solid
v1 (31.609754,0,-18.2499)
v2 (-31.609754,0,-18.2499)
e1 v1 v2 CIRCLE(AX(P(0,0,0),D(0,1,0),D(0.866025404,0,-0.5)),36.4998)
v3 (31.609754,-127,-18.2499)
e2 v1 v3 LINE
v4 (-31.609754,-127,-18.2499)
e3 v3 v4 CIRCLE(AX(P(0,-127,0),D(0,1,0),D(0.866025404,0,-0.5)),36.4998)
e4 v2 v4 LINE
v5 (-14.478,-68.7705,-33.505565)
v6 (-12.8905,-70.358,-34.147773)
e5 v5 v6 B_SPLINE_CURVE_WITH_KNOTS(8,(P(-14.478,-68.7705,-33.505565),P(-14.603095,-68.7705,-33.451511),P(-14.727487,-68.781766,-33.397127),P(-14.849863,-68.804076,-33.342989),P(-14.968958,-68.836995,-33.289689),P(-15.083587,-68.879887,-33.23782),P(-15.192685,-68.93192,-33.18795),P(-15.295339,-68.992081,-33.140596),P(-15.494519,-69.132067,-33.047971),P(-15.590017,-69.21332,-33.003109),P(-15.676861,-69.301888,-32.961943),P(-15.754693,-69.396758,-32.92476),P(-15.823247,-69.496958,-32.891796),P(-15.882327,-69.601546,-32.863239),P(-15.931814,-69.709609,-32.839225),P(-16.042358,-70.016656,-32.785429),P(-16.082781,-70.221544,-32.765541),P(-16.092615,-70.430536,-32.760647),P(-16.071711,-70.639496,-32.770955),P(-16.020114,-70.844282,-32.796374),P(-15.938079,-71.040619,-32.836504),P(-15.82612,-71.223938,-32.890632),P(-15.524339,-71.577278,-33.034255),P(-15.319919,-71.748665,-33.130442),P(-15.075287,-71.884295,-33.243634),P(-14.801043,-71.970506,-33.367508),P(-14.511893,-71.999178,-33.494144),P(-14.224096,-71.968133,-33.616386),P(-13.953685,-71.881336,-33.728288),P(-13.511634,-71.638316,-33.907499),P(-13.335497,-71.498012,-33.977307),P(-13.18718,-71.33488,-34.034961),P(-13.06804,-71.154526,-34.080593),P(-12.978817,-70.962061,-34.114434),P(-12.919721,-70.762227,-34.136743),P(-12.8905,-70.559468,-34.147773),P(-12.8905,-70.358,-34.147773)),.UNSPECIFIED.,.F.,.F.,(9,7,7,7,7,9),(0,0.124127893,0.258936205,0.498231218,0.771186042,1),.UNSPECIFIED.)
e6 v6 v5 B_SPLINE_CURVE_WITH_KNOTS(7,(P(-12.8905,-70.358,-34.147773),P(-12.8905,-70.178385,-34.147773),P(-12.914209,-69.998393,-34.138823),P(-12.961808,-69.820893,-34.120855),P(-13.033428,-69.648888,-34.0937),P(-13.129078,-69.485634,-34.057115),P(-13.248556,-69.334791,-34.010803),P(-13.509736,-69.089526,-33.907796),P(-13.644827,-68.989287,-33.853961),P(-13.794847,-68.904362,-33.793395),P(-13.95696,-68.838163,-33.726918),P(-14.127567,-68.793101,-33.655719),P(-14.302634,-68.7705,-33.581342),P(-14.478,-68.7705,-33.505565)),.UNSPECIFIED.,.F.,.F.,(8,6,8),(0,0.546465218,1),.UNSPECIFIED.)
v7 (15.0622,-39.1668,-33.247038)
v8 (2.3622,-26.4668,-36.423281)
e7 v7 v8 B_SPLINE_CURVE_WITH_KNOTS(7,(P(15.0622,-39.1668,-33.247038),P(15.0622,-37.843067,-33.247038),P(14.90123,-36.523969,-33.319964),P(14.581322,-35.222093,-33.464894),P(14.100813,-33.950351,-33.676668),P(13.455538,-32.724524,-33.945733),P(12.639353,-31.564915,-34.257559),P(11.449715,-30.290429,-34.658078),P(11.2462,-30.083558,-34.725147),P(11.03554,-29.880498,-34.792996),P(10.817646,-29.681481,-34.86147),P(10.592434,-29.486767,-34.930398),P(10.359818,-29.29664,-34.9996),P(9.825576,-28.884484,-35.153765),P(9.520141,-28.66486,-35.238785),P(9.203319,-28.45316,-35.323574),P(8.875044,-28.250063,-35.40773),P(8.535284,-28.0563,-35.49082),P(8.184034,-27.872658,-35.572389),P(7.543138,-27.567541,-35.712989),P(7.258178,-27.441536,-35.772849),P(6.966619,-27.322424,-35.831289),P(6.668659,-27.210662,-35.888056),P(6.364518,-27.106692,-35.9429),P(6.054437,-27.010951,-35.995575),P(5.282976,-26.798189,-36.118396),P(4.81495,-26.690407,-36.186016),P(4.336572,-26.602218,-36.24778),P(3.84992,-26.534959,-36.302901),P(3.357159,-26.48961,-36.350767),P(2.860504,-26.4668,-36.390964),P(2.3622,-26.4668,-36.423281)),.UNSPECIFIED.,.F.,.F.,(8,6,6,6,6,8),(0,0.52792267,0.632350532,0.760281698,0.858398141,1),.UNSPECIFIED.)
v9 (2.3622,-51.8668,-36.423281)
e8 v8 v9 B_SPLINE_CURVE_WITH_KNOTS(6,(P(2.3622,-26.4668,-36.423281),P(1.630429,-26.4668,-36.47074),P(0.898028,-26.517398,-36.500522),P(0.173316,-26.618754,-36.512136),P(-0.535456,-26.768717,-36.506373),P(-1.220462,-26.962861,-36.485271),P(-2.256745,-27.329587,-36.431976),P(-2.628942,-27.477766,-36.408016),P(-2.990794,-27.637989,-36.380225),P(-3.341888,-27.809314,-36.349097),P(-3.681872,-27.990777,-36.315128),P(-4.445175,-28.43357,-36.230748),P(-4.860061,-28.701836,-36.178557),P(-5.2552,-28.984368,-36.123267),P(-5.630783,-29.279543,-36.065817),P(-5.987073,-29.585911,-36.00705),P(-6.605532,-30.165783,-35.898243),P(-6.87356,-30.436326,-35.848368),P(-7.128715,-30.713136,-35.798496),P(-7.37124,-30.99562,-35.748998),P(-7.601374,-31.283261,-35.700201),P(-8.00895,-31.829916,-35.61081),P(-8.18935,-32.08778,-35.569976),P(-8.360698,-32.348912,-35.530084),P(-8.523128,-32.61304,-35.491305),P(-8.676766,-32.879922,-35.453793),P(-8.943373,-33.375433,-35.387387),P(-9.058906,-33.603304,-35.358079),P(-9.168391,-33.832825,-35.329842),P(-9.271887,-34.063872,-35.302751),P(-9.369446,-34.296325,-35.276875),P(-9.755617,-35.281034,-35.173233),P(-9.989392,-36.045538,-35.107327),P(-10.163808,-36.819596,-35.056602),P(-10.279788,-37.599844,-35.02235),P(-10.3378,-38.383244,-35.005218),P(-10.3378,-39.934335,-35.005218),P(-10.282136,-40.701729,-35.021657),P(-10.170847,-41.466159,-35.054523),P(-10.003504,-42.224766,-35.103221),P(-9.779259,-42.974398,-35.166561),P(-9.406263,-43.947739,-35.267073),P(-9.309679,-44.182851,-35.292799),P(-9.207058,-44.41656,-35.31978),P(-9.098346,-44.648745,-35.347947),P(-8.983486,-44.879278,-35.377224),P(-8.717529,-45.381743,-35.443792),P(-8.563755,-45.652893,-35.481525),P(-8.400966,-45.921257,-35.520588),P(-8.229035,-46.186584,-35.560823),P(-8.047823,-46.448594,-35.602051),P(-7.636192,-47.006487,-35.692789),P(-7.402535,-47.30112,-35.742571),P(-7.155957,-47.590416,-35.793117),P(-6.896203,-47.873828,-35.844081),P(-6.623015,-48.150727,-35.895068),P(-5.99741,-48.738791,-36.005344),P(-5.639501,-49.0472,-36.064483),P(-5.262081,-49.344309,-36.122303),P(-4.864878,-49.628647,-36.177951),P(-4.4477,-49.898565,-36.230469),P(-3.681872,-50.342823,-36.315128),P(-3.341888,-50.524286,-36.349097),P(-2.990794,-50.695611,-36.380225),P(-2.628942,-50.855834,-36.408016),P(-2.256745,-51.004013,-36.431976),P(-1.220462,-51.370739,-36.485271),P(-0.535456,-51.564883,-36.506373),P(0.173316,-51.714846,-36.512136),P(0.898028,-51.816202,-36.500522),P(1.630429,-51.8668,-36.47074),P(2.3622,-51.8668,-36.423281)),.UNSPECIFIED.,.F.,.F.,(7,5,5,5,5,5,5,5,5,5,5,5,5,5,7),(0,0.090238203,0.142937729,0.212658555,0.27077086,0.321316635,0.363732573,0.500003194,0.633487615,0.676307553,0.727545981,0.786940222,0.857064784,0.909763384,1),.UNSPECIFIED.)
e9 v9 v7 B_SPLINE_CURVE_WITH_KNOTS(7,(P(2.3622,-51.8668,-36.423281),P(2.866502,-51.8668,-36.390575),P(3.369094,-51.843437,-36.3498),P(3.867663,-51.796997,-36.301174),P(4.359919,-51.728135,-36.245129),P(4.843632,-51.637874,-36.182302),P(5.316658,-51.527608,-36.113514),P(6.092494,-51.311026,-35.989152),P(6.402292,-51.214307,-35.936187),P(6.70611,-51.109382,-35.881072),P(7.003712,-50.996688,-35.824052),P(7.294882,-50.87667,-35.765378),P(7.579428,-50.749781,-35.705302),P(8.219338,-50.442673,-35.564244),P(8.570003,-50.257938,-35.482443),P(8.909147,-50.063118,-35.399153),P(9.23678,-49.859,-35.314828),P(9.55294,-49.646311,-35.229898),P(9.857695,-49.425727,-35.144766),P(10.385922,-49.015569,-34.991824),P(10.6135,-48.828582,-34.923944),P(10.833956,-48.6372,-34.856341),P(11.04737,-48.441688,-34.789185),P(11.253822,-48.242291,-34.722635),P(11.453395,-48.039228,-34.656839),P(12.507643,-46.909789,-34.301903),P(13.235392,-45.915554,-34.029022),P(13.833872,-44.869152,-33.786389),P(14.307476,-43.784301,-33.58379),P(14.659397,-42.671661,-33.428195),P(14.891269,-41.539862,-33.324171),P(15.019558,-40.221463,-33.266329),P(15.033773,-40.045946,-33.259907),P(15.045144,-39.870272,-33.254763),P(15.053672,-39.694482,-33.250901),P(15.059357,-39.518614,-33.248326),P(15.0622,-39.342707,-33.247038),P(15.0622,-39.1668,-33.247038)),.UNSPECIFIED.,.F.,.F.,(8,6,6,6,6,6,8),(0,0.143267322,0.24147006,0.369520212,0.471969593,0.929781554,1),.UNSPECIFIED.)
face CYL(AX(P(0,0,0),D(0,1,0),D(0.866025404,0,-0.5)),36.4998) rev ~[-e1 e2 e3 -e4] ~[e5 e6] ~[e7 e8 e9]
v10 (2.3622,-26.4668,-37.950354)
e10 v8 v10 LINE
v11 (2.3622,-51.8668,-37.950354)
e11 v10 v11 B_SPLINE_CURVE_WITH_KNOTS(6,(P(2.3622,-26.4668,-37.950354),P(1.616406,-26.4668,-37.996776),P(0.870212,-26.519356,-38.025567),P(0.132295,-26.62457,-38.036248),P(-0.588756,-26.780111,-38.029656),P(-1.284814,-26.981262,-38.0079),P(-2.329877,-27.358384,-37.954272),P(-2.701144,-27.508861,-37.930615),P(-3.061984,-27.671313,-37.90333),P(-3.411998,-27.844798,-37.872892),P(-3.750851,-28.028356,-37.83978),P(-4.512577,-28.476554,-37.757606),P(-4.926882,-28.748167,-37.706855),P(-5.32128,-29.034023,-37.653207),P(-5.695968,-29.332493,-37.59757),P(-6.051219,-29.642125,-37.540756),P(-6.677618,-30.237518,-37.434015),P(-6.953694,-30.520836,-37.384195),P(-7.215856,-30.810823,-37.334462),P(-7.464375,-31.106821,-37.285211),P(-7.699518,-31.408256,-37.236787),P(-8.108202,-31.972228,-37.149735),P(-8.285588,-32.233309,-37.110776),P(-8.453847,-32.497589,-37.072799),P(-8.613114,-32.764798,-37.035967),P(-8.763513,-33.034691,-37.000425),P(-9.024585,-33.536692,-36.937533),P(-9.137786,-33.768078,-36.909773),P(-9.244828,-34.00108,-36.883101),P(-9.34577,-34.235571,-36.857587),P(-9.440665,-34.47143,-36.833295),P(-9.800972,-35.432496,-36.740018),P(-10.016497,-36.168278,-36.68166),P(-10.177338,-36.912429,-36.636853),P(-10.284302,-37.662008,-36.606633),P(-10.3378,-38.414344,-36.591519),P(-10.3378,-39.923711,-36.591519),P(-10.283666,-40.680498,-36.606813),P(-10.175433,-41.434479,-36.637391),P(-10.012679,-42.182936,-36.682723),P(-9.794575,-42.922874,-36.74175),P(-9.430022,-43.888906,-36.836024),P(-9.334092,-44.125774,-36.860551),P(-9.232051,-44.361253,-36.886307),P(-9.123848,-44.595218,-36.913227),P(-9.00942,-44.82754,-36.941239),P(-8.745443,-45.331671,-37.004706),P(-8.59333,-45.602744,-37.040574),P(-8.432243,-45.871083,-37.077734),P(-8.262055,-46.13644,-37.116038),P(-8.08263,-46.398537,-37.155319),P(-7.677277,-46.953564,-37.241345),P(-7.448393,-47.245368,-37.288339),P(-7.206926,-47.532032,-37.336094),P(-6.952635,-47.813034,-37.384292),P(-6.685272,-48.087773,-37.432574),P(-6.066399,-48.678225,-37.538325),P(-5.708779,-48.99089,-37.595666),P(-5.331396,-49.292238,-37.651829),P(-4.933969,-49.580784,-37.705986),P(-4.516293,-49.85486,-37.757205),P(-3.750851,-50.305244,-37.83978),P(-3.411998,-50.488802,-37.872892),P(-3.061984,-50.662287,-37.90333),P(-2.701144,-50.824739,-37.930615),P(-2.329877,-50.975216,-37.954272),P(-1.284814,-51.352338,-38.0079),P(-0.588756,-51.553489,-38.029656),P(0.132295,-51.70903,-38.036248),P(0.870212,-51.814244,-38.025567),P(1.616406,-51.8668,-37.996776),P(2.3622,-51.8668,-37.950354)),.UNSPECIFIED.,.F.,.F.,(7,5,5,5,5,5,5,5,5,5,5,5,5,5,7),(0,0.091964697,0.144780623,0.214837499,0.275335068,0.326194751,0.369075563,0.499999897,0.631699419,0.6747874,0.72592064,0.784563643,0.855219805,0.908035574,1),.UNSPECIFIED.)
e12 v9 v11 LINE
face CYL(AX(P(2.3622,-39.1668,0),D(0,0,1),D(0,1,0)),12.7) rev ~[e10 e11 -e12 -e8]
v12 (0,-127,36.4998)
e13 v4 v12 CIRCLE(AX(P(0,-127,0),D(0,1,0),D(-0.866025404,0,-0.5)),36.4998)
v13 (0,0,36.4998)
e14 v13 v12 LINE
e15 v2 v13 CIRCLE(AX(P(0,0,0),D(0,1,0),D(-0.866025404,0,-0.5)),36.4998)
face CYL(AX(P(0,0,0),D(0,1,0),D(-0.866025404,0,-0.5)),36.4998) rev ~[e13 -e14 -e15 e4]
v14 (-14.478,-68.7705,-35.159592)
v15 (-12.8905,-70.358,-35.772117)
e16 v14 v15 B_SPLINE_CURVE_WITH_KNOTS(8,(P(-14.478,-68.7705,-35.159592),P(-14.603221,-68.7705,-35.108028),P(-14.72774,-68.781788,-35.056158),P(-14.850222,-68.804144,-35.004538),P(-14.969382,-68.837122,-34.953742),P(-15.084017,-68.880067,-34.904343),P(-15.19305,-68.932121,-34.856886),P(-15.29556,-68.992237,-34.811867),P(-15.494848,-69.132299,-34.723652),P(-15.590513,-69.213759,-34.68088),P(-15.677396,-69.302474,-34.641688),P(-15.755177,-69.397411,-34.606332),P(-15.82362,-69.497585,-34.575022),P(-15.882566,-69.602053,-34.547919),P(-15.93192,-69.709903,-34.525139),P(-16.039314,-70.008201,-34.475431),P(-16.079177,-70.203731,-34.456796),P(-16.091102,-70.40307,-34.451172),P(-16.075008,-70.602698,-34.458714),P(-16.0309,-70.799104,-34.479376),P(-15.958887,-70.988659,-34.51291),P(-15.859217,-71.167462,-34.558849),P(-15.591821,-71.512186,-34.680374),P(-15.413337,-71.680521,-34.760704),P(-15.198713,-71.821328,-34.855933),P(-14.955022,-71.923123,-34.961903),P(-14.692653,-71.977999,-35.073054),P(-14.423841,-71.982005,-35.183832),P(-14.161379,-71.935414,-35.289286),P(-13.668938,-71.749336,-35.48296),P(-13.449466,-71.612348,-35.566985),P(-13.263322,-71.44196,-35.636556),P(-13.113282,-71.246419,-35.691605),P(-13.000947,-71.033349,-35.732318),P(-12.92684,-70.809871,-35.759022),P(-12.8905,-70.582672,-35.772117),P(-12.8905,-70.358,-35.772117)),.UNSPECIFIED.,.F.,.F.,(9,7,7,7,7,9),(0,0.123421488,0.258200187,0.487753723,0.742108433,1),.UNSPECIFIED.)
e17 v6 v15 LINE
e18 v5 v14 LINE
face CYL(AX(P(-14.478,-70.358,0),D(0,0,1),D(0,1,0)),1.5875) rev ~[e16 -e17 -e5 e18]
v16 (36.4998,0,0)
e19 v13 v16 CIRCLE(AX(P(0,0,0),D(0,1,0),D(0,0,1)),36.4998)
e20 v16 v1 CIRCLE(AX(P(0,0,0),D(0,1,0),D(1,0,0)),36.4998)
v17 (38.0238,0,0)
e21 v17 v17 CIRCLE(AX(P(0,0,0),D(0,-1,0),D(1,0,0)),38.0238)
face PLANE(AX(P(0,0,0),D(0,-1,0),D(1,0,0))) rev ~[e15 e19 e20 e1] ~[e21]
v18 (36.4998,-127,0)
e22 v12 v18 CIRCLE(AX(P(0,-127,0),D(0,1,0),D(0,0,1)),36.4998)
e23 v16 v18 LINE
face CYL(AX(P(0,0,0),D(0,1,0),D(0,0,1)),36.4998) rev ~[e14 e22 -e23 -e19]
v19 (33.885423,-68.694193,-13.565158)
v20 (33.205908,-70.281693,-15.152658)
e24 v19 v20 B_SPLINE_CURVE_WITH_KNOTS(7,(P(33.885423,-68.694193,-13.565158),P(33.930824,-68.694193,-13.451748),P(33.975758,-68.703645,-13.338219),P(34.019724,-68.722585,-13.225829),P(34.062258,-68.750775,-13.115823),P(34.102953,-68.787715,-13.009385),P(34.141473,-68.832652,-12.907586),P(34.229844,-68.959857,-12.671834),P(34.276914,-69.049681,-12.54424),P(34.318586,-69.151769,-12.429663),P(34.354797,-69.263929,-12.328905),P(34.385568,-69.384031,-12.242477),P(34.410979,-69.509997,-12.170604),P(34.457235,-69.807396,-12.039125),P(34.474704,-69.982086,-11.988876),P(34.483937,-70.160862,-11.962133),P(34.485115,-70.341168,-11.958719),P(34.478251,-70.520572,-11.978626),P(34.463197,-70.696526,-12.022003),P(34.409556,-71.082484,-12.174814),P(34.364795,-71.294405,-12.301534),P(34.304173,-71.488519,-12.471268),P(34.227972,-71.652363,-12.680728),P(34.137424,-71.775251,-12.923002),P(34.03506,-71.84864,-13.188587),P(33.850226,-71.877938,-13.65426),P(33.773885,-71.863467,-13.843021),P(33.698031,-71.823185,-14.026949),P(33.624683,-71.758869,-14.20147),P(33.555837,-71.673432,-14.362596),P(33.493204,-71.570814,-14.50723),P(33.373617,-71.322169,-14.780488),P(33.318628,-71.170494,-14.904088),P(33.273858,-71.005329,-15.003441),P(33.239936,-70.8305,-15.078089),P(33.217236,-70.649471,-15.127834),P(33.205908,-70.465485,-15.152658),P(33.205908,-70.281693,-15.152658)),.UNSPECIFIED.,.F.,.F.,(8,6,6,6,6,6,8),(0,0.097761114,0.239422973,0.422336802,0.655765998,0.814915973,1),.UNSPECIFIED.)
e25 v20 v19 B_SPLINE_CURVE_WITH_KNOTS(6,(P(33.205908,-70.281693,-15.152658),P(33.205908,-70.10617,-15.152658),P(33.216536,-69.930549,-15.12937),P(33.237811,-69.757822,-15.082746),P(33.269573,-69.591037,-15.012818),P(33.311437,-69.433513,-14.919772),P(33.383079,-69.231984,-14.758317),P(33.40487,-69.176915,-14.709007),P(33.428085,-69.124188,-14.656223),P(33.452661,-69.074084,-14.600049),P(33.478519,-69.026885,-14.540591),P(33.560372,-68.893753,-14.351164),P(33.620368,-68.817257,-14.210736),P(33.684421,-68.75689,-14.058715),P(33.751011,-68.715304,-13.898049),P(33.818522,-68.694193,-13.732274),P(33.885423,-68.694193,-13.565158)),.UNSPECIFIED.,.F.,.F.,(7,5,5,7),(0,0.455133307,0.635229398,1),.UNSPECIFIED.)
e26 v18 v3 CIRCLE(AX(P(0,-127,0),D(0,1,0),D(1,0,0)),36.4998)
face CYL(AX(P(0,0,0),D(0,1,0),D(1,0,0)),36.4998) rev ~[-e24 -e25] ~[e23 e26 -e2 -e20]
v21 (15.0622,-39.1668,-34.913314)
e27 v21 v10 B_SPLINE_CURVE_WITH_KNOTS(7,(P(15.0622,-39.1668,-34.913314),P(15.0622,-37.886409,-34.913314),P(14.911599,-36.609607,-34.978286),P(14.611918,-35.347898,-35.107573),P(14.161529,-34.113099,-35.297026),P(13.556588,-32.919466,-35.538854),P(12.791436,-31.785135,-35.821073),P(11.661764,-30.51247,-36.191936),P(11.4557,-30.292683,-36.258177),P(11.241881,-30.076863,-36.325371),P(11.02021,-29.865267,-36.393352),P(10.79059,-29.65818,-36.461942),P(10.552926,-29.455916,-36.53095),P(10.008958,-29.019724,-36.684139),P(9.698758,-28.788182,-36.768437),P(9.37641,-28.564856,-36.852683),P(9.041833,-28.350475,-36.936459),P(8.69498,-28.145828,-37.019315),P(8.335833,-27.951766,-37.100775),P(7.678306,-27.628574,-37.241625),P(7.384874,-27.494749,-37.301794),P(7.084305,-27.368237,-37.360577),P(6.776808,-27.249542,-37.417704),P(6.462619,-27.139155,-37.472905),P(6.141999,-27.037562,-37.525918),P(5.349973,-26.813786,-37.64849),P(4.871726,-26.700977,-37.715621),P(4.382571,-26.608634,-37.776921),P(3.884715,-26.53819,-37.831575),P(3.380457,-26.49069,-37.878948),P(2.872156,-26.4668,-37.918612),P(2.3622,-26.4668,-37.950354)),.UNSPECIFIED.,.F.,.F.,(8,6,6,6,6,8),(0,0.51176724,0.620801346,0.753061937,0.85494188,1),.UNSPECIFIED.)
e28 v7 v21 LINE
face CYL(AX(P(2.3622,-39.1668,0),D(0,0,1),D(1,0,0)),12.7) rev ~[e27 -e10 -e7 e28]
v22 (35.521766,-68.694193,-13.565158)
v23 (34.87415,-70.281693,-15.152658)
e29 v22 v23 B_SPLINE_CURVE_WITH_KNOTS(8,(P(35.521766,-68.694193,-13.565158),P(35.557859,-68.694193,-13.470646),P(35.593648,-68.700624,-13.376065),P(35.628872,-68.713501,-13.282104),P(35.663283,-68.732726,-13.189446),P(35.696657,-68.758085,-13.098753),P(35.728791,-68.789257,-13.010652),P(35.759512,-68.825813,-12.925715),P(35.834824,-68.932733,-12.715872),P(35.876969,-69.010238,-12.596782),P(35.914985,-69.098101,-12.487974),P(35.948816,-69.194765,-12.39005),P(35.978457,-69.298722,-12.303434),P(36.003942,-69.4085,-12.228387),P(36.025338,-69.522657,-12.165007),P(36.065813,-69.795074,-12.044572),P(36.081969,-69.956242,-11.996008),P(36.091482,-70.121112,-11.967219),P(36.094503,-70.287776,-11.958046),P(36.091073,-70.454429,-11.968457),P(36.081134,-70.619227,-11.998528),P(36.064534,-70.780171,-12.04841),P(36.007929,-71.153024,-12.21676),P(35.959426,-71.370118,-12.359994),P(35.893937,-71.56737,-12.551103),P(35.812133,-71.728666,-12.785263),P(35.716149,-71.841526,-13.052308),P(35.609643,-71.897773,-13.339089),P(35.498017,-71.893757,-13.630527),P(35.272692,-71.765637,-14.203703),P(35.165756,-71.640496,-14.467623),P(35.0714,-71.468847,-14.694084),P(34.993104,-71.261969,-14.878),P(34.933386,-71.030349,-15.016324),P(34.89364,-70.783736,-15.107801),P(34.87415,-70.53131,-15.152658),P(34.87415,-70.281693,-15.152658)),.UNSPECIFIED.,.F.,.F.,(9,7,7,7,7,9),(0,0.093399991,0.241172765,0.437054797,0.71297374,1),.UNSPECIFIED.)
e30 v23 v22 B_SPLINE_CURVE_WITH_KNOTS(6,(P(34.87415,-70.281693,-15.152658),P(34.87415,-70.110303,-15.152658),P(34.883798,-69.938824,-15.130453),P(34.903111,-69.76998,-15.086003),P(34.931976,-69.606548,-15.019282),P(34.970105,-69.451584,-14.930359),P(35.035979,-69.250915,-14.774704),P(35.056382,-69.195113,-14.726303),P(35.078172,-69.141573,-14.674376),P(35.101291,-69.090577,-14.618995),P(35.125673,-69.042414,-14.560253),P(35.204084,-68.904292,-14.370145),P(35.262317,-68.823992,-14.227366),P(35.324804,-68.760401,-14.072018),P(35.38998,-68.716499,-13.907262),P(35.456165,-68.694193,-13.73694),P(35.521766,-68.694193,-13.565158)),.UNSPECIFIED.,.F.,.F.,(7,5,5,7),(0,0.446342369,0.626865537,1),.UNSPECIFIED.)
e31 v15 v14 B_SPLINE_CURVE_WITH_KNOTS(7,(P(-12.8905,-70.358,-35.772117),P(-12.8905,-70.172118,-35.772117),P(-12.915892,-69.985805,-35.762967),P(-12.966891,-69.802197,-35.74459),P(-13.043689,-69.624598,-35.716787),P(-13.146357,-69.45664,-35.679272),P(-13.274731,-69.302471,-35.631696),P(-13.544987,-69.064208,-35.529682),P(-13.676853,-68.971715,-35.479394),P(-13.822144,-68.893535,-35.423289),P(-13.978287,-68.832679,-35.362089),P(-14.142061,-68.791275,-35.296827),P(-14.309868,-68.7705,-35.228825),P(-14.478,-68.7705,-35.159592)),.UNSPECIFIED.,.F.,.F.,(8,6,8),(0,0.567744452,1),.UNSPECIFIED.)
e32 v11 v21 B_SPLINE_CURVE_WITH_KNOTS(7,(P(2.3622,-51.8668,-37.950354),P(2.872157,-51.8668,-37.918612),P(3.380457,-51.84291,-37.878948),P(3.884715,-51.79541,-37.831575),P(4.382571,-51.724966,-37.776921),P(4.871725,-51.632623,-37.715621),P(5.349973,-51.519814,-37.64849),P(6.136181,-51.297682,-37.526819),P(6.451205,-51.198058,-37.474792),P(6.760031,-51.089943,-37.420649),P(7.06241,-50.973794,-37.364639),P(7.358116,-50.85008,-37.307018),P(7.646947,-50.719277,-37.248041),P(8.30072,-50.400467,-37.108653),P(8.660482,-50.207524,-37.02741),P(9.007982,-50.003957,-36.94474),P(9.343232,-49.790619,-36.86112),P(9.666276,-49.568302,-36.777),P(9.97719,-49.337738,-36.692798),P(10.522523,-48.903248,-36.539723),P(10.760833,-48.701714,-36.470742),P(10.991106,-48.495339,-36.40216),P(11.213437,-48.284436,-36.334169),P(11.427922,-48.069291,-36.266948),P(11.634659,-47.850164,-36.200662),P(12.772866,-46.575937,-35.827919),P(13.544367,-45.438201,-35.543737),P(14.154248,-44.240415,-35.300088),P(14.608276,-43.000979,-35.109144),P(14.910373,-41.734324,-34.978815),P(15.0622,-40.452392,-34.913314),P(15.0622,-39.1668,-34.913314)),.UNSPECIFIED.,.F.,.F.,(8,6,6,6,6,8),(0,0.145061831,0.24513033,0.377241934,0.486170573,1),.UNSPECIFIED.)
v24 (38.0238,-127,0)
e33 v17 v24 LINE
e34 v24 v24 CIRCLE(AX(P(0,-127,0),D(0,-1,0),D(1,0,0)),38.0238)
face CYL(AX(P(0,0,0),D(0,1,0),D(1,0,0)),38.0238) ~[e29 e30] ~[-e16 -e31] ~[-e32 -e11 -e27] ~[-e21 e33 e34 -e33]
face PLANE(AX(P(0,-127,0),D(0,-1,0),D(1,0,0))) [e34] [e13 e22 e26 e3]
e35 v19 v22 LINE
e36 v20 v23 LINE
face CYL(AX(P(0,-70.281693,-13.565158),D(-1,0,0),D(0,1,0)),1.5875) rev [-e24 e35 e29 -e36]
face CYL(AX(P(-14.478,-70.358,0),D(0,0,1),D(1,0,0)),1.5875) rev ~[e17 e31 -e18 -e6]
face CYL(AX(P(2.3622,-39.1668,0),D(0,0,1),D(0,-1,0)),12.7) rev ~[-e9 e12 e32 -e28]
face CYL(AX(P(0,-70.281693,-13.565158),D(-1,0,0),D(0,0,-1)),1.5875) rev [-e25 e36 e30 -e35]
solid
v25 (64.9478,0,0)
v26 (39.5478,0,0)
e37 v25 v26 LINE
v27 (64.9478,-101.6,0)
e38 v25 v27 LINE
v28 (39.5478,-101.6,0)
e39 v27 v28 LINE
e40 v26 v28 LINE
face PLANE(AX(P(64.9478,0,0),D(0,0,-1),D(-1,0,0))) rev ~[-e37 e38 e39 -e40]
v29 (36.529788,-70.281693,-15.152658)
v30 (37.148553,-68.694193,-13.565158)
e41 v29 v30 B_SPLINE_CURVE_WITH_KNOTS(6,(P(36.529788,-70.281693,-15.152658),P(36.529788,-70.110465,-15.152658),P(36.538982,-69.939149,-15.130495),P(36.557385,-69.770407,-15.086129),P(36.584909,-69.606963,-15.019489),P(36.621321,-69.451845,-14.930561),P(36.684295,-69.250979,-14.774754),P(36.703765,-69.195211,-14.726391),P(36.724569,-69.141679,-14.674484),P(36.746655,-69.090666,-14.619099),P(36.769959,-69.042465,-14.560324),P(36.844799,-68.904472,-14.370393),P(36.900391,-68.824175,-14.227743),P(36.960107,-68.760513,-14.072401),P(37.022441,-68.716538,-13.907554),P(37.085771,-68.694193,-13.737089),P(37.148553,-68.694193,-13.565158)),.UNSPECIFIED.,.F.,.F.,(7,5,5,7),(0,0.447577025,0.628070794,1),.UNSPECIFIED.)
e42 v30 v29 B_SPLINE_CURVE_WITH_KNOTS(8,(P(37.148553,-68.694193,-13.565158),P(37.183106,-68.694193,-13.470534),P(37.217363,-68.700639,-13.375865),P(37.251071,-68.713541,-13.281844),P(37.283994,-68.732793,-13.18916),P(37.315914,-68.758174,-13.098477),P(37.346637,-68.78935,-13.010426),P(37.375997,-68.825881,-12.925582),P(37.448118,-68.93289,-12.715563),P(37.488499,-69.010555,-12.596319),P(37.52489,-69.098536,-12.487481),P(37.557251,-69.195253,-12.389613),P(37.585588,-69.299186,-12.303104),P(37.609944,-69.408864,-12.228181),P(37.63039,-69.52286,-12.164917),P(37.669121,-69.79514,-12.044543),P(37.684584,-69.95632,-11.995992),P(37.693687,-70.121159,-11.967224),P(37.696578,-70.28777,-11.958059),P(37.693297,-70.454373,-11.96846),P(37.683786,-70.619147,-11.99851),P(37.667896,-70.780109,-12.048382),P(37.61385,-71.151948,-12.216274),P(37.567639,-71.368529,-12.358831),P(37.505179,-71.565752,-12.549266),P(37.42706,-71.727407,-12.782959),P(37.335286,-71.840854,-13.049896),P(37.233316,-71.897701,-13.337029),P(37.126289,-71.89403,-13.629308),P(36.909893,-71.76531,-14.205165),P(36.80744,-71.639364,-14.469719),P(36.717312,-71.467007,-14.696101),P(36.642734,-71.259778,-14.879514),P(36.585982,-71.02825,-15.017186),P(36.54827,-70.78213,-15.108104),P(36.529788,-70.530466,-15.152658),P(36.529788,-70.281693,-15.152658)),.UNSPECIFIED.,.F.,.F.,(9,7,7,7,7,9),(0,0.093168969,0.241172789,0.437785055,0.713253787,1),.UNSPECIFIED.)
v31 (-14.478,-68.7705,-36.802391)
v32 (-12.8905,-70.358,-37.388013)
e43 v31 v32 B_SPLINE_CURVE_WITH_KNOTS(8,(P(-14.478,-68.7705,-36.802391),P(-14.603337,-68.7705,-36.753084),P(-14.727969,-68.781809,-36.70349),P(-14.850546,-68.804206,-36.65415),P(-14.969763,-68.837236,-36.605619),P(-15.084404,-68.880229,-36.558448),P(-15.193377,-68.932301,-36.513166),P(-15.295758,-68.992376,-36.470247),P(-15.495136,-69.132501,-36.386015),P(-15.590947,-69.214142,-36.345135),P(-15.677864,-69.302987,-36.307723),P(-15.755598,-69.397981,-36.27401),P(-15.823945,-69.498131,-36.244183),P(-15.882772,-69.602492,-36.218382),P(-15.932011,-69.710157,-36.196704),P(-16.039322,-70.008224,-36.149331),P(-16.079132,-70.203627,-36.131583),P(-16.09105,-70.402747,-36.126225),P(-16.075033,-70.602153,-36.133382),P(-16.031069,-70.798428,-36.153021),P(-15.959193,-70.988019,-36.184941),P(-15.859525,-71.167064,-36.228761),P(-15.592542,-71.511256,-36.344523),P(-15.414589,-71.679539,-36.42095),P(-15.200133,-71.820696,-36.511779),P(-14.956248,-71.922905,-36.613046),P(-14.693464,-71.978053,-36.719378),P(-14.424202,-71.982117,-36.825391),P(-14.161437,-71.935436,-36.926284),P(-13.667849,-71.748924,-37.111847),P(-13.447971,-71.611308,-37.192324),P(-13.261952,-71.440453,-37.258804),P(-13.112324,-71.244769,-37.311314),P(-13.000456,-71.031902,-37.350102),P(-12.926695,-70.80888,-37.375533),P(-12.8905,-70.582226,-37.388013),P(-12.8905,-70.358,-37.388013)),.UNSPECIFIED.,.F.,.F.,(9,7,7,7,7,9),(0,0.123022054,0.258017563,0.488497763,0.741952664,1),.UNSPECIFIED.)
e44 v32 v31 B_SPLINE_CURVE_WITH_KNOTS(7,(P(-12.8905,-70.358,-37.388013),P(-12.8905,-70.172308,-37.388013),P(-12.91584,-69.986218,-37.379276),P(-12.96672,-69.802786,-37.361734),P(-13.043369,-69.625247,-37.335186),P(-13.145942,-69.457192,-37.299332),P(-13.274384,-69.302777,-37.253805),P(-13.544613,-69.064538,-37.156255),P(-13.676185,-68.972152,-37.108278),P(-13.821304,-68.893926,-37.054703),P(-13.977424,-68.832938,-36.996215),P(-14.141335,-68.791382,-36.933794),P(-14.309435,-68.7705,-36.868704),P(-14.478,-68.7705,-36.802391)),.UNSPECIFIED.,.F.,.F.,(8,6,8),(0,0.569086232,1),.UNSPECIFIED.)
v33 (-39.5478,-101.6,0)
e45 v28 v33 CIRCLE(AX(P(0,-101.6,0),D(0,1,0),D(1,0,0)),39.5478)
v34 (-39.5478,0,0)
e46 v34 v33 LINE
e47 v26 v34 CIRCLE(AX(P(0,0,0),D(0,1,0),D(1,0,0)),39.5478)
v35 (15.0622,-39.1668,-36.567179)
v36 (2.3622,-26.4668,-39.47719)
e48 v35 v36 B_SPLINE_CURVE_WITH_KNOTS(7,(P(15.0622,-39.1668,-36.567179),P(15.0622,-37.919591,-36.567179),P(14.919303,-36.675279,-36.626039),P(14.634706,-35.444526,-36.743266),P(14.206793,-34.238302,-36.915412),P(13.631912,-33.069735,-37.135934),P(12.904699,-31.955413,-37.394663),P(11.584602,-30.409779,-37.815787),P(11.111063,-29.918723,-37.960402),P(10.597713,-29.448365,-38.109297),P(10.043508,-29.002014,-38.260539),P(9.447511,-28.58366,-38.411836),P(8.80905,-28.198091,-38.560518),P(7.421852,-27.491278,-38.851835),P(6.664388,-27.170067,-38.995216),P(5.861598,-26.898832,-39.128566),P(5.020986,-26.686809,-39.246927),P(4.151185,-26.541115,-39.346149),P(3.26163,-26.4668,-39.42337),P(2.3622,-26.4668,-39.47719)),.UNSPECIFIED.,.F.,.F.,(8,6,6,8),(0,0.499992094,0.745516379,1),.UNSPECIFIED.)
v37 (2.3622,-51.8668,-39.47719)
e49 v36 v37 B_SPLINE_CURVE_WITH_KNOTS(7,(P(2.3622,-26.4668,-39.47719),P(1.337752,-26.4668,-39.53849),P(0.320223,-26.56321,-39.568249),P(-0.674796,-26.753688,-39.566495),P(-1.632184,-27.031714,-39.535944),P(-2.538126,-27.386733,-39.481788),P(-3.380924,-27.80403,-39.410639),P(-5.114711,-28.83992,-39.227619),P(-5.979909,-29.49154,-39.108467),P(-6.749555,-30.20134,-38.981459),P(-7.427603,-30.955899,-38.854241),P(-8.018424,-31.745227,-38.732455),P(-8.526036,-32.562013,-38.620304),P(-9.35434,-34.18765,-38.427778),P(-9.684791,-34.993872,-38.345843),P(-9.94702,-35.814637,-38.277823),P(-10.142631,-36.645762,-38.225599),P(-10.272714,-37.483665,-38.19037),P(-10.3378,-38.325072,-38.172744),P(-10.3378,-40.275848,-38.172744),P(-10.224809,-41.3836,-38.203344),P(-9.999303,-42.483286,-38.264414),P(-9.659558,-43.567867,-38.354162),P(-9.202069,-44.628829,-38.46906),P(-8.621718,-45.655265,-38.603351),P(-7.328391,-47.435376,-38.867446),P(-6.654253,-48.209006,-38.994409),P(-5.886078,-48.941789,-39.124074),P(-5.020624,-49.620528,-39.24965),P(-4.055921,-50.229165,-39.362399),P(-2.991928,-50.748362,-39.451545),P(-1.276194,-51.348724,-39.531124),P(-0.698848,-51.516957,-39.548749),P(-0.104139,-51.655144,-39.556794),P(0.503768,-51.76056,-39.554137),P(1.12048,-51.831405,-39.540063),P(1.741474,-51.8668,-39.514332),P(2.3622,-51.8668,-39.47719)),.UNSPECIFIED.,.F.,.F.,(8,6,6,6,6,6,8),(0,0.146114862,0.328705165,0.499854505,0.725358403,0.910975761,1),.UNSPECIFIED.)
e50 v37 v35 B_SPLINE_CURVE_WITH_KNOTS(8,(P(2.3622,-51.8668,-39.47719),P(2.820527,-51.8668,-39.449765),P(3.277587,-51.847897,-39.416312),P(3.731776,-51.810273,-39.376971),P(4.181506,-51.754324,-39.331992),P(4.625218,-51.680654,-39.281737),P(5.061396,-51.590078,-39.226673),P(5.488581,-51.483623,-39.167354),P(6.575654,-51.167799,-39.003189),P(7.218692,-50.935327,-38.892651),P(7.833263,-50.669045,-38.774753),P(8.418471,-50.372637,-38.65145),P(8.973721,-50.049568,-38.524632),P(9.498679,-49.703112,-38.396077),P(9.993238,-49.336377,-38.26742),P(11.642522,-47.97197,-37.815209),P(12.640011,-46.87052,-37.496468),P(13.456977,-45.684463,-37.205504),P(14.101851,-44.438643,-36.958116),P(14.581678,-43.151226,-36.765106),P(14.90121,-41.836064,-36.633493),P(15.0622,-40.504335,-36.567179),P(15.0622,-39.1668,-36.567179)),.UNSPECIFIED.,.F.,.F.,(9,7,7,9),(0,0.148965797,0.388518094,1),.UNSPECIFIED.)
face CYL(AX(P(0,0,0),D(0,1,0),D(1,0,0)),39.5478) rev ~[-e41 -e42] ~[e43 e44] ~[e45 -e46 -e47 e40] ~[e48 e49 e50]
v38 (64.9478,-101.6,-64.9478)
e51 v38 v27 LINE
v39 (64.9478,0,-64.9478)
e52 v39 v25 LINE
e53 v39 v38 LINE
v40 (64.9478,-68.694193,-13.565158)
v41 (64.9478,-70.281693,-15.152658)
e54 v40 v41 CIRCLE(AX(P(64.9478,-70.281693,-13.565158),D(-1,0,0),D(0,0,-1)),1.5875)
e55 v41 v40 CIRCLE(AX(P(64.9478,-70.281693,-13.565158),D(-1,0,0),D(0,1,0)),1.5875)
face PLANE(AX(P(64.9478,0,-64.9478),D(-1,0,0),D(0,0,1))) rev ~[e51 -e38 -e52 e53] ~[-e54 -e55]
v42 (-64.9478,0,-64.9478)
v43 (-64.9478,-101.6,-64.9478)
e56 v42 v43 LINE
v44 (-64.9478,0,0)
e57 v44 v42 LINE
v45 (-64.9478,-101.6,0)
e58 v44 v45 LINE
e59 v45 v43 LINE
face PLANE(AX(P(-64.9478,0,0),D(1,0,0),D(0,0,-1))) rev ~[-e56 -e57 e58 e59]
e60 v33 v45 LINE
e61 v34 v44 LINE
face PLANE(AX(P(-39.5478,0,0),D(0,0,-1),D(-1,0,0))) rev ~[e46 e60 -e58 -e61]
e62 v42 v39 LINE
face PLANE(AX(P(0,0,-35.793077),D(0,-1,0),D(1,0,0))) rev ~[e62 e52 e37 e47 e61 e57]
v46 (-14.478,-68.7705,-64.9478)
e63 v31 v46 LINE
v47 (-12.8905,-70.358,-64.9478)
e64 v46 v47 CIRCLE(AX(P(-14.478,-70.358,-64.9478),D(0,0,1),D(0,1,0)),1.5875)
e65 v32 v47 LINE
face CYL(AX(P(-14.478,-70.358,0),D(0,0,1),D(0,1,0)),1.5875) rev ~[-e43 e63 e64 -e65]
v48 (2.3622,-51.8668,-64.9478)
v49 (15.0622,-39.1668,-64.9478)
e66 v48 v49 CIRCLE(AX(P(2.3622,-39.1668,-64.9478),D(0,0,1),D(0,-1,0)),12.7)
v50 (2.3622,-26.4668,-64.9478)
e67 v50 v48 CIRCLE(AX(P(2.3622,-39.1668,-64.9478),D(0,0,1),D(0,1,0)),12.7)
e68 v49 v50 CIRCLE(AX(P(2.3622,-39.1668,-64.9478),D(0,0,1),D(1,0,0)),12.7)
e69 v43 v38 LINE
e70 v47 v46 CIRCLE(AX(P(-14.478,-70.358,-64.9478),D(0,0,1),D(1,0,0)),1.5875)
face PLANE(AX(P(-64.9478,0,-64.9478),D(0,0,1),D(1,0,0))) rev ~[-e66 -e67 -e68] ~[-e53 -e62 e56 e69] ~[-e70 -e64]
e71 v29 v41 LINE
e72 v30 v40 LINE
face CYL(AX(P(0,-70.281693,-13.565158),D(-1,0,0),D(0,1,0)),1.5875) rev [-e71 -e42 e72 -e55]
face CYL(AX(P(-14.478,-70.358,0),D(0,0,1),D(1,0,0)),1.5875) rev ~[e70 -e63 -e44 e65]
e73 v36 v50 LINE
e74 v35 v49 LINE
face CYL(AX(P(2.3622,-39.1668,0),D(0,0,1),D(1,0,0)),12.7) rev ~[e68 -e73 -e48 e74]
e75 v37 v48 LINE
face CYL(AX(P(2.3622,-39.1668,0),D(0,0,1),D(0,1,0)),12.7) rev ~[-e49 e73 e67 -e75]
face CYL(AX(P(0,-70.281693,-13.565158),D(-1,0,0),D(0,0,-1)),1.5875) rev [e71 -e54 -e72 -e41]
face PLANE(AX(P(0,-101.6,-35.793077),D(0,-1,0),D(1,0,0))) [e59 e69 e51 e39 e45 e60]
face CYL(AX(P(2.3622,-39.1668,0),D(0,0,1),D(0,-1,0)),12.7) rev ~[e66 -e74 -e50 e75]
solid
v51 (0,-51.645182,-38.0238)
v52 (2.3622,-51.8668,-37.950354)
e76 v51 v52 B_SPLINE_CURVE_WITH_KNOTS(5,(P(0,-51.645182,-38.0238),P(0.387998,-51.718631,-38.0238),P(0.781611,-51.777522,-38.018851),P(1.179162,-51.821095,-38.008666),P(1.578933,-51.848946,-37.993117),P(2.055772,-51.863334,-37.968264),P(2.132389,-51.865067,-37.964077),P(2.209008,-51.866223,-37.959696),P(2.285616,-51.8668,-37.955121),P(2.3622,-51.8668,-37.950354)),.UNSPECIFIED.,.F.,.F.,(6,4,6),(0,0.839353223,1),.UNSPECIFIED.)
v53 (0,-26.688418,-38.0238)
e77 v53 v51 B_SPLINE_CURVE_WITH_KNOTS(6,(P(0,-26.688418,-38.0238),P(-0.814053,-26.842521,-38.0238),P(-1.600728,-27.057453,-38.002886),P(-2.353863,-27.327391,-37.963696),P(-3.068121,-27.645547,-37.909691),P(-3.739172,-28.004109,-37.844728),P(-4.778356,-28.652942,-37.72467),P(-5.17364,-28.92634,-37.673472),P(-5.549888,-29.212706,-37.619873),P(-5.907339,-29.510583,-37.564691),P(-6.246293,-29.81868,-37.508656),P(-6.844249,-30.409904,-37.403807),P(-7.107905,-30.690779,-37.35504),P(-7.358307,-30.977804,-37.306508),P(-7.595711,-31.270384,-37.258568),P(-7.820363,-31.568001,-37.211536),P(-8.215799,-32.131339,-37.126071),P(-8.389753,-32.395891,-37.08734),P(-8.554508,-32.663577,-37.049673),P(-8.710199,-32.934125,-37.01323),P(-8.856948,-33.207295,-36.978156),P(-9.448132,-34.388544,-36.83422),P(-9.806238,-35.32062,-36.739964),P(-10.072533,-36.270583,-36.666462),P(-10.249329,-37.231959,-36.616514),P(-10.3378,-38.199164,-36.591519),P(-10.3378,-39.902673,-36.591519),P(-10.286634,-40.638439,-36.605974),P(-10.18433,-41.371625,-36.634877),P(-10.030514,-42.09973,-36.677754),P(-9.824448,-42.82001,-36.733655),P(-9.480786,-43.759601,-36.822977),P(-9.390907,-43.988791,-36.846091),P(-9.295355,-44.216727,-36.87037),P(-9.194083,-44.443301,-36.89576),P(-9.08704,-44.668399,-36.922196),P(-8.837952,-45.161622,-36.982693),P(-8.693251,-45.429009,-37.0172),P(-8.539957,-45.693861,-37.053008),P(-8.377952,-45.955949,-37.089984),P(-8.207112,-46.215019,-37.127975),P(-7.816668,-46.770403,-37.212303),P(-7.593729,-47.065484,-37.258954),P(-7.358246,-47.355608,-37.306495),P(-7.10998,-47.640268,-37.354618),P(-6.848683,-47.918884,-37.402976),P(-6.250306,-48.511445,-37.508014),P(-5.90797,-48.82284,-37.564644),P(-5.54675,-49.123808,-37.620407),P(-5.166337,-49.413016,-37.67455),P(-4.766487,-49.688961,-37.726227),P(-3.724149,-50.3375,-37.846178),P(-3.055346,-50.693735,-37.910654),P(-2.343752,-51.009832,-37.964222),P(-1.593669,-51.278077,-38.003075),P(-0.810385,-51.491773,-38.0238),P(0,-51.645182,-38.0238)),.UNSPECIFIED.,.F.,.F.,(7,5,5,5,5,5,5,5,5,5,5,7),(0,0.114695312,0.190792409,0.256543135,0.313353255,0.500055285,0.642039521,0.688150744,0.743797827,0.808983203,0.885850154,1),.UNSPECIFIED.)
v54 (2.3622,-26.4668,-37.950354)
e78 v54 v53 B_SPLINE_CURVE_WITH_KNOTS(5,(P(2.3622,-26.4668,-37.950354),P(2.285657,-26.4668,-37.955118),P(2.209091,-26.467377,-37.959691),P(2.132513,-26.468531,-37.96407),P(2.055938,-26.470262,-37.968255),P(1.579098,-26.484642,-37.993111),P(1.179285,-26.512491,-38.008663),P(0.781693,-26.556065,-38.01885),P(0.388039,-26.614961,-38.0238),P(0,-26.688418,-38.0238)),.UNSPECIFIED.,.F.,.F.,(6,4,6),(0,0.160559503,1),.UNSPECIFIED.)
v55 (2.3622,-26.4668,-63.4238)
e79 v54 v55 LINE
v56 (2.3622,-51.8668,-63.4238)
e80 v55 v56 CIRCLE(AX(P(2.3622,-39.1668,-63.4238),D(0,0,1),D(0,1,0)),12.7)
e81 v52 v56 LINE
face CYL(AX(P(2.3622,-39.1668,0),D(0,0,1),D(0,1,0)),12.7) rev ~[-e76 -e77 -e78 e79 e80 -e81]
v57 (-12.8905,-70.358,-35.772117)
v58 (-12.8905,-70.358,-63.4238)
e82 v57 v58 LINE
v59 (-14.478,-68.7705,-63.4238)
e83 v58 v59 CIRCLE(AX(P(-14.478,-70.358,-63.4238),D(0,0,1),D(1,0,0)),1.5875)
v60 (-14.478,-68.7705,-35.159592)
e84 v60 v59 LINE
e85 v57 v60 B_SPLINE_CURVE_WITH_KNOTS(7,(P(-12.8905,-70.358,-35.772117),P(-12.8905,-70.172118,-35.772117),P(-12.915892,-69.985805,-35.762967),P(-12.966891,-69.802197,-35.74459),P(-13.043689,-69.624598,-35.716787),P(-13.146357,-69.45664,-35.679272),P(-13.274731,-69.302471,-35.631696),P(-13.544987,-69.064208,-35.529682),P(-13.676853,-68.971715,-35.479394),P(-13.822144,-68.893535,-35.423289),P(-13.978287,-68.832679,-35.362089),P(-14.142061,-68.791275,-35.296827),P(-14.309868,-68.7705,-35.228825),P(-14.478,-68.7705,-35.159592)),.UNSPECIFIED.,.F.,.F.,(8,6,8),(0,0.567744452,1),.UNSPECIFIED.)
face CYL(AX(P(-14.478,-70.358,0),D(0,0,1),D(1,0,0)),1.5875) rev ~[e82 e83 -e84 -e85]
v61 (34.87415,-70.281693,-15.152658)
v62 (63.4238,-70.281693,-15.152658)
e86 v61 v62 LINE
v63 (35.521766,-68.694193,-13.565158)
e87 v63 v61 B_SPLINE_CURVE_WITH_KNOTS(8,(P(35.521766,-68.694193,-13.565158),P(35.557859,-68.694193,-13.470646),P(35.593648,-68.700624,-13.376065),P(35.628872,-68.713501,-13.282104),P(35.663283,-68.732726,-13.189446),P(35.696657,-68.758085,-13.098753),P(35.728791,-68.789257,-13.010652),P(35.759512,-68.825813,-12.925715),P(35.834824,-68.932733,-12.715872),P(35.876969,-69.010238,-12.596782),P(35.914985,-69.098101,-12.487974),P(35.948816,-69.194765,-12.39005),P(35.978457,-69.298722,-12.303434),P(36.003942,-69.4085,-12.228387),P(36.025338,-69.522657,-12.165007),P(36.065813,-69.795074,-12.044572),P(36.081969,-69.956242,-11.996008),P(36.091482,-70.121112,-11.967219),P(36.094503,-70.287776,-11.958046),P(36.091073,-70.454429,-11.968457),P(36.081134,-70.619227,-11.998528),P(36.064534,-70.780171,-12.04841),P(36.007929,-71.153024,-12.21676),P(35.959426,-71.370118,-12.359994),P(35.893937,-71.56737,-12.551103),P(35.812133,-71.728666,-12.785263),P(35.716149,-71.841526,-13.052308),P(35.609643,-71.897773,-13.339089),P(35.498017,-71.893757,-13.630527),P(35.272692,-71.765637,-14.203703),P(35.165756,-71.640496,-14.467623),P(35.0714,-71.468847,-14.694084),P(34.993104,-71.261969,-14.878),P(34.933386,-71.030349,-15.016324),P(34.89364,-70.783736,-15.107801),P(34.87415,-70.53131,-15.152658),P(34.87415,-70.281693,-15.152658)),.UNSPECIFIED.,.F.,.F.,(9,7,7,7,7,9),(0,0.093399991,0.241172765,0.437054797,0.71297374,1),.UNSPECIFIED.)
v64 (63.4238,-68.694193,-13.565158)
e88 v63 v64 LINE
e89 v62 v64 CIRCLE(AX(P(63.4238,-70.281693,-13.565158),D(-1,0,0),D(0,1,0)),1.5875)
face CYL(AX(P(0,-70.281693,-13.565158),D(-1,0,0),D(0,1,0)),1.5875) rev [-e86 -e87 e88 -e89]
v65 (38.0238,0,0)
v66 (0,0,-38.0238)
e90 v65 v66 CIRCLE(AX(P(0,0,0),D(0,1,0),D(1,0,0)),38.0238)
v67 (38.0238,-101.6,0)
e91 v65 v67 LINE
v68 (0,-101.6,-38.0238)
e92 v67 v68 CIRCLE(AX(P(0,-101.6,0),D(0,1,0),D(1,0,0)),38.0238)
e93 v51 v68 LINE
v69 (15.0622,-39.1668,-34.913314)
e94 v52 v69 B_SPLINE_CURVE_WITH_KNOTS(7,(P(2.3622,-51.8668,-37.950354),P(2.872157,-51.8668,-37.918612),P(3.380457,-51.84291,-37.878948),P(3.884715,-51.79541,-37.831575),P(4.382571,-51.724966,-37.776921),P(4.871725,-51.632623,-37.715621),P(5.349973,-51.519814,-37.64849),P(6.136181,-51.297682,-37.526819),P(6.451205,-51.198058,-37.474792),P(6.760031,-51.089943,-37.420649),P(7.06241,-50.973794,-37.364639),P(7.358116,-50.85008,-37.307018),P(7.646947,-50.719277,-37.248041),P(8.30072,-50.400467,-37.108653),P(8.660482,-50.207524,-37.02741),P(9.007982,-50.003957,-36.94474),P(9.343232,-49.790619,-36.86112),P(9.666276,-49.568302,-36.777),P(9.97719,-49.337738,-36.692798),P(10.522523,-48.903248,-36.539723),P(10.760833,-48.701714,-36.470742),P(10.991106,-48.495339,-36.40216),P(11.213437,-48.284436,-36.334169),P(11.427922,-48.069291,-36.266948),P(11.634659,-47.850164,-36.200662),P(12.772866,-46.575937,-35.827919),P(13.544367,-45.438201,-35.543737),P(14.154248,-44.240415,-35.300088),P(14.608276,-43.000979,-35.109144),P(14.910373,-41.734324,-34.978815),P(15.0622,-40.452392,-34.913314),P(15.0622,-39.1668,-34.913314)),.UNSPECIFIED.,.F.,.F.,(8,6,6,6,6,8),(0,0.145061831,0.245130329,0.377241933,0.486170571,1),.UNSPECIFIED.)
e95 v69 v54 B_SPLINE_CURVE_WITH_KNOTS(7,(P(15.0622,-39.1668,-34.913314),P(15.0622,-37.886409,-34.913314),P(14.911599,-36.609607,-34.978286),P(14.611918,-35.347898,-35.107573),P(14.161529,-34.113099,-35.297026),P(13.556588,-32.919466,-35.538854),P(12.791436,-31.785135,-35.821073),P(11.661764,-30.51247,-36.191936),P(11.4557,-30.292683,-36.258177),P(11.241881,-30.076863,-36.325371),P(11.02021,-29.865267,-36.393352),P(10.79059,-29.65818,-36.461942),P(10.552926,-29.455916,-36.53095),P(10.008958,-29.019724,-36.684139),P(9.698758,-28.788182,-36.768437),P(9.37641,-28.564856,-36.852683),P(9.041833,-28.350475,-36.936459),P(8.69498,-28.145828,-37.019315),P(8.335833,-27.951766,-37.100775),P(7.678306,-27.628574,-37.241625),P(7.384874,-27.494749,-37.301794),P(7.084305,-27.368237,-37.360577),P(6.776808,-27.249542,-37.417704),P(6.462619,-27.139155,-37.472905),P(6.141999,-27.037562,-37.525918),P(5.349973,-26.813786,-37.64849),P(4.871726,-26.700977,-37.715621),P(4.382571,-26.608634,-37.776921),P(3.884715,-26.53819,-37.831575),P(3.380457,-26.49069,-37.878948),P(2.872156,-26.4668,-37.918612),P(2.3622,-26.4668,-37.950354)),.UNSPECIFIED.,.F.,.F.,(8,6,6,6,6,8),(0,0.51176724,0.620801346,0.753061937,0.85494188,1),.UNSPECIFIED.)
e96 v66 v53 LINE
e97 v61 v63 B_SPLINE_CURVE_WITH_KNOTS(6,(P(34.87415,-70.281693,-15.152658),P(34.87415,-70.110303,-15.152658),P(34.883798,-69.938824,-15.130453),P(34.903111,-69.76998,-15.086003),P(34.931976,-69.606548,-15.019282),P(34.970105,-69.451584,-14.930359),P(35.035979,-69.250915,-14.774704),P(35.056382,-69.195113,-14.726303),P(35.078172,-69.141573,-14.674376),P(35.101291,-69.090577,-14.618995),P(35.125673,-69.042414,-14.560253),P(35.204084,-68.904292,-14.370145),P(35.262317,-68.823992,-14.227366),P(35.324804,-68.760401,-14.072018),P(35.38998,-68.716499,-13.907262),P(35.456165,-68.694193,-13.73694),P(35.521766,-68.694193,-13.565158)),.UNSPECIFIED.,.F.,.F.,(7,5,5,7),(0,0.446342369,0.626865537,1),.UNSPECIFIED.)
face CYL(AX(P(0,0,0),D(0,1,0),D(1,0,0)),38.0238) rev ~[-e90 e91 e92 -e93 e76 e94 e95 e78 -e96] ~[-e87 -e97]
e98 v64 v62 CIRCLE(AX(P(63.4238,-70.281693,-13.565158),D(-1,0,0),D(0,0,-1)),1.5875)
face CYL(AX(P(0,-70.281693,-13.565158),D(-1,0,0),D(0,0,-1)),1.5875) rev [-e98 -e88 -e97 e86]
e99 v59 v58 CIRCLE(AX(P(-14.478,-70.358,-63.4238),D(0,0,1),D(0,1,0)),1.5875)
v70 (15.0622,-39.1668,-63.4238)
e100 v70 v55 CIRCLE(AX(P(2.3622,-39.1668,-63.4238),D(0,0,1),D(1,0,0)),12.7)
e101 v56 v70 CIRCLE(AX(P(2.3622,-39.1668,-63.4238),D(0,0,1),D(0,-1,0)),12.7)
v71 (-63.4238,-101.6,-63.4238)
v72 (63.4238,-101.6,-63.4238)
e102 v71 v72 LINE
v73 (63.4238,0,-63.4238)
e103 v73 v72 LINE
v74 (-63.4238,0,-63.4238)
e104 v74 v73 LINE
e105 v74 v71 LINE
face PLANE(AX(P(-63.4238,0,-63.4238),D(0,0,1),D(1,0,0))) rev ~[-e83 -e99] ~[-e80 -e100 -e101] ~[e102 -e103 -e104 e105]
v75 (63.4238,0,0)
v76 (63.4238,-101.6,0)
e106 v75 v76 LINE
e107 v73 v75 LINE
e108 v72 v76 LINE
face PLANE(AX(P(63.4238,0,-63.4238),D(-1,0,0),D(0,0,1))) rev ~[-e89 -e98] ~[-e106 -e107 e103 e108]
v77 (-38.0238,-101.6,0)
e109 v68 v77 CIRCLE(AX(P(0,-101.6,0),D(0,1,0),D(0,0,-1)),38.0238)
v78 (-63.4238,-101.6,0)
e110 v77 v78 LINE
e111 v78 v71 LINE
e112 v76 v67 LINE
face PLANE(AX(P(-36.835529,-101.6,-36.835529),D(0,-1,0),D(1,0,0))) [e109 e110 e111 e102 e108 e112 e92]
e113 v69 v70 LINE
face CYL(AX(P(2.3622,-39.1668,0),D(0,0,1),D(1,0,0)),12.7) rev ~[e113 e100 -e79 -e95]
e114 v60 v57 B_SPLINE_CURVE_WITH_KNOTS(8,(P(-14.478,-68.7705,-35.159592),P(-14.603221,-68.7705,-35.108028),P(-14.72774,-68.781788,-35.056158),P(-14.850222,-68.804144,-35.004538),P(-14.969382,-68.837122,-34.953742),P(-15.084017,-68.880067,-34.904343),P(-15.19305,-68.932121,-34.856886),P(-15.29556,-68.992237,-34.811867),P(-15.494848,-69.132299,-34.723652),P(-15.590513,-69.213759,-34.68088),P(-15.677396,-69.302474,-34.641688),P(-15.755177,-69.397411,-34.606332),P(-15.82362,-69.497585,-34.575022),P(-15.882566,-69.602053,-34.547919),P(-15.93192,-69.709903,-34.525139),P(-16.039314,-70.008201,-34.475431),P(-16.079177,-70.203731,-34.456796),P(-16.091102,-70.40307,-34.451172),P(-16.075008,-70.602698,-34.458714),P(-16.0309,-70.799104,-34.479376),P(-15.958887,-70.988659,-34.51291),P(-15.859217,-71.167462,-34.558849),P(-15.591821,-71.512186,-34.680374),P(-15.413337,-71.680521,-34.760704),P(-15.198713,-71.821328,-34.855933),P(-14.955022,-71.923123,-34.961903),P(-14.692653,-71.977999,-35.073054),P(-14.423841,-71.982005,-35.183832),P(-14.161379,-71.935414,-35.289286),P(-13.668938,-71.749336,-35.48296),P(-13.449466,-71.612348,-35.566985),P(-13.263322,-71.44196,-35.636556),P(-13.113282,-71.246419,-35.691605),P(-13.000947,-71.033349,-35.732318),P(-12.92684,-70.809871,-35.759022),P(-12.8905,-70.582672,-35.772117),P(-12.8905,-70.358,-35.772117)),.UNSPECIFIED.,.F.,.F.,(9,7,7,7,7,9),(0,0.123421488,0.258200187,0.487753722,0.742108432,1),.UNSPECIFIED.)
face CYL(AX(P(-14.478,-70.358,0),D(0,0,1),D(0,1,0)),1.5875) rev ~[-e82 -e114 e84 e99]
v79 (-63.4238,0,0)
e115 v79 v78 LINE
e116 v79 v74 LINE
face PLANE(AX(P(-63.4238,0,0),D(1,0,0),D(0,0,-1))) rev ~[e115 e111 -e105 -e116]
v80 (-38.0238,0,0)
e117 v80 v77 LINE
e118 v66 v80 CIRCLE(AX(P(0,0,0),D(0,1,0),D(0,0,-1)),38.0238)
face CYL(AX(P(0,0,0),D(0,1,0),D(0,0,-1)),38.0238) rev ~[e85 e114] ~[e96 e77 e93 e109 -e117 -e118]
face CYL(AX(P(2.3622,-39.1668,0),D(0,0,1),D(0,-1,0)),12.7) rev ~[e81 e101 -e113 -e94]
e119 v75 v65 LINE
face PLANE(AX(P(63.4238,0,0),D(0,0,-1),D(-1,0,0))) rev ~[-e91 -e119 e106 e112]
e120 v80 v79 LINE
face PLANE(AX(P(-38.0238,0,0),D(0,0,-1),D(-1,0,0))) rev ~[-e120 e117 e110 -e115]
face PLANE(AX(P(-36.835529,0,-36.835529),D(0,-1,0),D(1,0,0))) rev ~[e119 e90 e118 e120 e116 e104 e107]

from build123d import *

# Parameters (mm, degrees)
F0_R      = 38.0238
F2_DEPTH  = 127
F4_DEPTH  = 127
F5_DEPTH  = 127
F6_DEPTH  = 127
F9_DEPTH  = 101.6
F12_DEPTH = 101.6


with BuildPart() as f2:
    # F0 (on Front) → F2 (new body)
    with BuildSketch(Plane.XZ):
        Circle(F0_R)
        with BuildLine():
            ThreePointArc((0, 36.4998), (25.809256092, 25.809256092), (36.4998, 0))
            ThreePointArc((36.4998, 0), (35.2560994744, -9.4468433824), (31.6097540331, -18.2499))
            ThreePointArc((31.6097540331, -18.2499), (0, -36.4998), (-31.6097540331, -18.2499))
            ThreePointArc((-31.6097540331, -18.2499), (-31.6097540331, 18.2499), (0, 36.4998))
        make_face(mode=Mode.SUBTRACT)
    extrude(amount=F2_DEPTH)


with BuildPart() as f4:
    # F3 (on Top) → F4 (new body)
    with BuildSketch(Plane.XY):
        with BuildLine():
            ThreePointArc((2.3622, -51.8668), (11.3424561211, -48.1470561211), (15.0622, -39.1668))
            ThreePointArc((15.0622, -39.1668), (11.3424561211, -30.1865438789), (2.3622, -26.4668))
            Line((2.3622, -26.4668), (2.3622, -51.8668))
        make_face()
        with BuildLine():
            Line((2.3622, -51.8668), (2.3622, -26.4668))
            ThreePointArc((2.3622, -26.4668), (-10.3378, -39.1668), (2.3622, -51.8668))
        make_face()
    extrude(amount=-F4_DEPTH)


with BuildPart() as f5:
    # F3 (on Top) → F5 (new body)
    with BuildSketch(Plane.XY):
        with BuildLine():
            ThreePointArc((-12.8905, -70.358), (-13.3554679849, -69.2354679849), (-14.478, -68.7705))
            ThreePointArc((-14.478, -68.7705), (-15.6005320151, -71.4805320151), (-12.8905, -70.358))
        make_face()
    extrude(amount=-F5_DEPTH)


with BuildPart() as f6:
    # F1 (on Right) → F6 (new body)
    with BuildSketch(Plane.YZ):
        with BuildLine():
            ThreePointArc((-70.2816930812, -15.1526582448), (-69.159161066, -14.6876902599), (-68.6941930812, -13.5651582448))
            ThreePointArc((-68.6941930812, -13.5651582448), (-71.4042250963, -12.4426262296), (-70.2816930812, -15.1526582448))
        make_face()
    extrude(amount=F6_DEPTH)


with BuildPart() as f2_1:
    add(f2.part)

    # F7: cut F4, F5, F6
    add(f4.part, mode=Mode.SUBTRACT)
    add(f5.part, mode=Mode.SUBTRACT)
    add(f6.part, mode=Mode.SUBTRACT)


with BuildPart() as f9:
    # F8 (on Front) → F9 (new body)
    with BuildSketch(Plane.XZ):
        with BuildLine():
            ThreePointArc((0, -38.0238), (-26.8868868265, -26.8868868265), (-38.0238, 0))
            Line((-38.0238, 0), (-63.4238, 0))
            Line((-63.4238, 0), (-63.4238, -63.4238))
            Line((-63.4238, -63.4238), (0, -63.4238))
            Line((0, -63.4238), (0, -38.0238))
        make_face()
        with BuildLine():
            Line((63.4238, 0), (38.0238, 0))
            ThreePointArc((38.0238, 0), (26.8868868265, -26.8868868265), (0, -38.0238))
            Line((0, -38.0238), (0, -63.4238))
            Line((0, -63.4238), (63.4238, -63.4238))
            Line((63.4238, -63.4238), (63.4238, 0))
        make_face()
    extrude(amount=F9_DEPTH)

    # F10: cut F5, F4, F6
    add(f5.part, mode=Mode.SUBTRACT)
    add(f4.part, mode=Mode.SUBTRACT)
    add(f6.part, mode=Mode.SUBTRACT)


with BuildPart() as f12:
    # F11 (on Front) → F12 (new body)
    with BuildSketch(Plane.XZ):
        with BuildLine():
            ThreePointArc((39.5478, 0), (0, -39.5478), (-39.5478, 0))
            Line((-39.5478, 0), (-64.9478, 0))
            Line((-64.9478, 0), (-64.9478, -64.9478))
            Line((-64.9478, -64.9478), (64.9478, -64.9478))
            Line((64.9478, -64.9478), (64.9478, 0))
            Line((64.9478, 0), (39.5478, 0))
        make_face()
    extrude(amount=F12_DEPTH)

    # F13: cut F5, F4, F6
    add(f5.part, mode=Mode.SUBTRACT)
    add(f4.part, mode=Mode.SUBTRACT)
    add(f6.part, mode=Mode.SUBTRACT)


solid = Compound([f2_1.part, f9.part, f12.part])
